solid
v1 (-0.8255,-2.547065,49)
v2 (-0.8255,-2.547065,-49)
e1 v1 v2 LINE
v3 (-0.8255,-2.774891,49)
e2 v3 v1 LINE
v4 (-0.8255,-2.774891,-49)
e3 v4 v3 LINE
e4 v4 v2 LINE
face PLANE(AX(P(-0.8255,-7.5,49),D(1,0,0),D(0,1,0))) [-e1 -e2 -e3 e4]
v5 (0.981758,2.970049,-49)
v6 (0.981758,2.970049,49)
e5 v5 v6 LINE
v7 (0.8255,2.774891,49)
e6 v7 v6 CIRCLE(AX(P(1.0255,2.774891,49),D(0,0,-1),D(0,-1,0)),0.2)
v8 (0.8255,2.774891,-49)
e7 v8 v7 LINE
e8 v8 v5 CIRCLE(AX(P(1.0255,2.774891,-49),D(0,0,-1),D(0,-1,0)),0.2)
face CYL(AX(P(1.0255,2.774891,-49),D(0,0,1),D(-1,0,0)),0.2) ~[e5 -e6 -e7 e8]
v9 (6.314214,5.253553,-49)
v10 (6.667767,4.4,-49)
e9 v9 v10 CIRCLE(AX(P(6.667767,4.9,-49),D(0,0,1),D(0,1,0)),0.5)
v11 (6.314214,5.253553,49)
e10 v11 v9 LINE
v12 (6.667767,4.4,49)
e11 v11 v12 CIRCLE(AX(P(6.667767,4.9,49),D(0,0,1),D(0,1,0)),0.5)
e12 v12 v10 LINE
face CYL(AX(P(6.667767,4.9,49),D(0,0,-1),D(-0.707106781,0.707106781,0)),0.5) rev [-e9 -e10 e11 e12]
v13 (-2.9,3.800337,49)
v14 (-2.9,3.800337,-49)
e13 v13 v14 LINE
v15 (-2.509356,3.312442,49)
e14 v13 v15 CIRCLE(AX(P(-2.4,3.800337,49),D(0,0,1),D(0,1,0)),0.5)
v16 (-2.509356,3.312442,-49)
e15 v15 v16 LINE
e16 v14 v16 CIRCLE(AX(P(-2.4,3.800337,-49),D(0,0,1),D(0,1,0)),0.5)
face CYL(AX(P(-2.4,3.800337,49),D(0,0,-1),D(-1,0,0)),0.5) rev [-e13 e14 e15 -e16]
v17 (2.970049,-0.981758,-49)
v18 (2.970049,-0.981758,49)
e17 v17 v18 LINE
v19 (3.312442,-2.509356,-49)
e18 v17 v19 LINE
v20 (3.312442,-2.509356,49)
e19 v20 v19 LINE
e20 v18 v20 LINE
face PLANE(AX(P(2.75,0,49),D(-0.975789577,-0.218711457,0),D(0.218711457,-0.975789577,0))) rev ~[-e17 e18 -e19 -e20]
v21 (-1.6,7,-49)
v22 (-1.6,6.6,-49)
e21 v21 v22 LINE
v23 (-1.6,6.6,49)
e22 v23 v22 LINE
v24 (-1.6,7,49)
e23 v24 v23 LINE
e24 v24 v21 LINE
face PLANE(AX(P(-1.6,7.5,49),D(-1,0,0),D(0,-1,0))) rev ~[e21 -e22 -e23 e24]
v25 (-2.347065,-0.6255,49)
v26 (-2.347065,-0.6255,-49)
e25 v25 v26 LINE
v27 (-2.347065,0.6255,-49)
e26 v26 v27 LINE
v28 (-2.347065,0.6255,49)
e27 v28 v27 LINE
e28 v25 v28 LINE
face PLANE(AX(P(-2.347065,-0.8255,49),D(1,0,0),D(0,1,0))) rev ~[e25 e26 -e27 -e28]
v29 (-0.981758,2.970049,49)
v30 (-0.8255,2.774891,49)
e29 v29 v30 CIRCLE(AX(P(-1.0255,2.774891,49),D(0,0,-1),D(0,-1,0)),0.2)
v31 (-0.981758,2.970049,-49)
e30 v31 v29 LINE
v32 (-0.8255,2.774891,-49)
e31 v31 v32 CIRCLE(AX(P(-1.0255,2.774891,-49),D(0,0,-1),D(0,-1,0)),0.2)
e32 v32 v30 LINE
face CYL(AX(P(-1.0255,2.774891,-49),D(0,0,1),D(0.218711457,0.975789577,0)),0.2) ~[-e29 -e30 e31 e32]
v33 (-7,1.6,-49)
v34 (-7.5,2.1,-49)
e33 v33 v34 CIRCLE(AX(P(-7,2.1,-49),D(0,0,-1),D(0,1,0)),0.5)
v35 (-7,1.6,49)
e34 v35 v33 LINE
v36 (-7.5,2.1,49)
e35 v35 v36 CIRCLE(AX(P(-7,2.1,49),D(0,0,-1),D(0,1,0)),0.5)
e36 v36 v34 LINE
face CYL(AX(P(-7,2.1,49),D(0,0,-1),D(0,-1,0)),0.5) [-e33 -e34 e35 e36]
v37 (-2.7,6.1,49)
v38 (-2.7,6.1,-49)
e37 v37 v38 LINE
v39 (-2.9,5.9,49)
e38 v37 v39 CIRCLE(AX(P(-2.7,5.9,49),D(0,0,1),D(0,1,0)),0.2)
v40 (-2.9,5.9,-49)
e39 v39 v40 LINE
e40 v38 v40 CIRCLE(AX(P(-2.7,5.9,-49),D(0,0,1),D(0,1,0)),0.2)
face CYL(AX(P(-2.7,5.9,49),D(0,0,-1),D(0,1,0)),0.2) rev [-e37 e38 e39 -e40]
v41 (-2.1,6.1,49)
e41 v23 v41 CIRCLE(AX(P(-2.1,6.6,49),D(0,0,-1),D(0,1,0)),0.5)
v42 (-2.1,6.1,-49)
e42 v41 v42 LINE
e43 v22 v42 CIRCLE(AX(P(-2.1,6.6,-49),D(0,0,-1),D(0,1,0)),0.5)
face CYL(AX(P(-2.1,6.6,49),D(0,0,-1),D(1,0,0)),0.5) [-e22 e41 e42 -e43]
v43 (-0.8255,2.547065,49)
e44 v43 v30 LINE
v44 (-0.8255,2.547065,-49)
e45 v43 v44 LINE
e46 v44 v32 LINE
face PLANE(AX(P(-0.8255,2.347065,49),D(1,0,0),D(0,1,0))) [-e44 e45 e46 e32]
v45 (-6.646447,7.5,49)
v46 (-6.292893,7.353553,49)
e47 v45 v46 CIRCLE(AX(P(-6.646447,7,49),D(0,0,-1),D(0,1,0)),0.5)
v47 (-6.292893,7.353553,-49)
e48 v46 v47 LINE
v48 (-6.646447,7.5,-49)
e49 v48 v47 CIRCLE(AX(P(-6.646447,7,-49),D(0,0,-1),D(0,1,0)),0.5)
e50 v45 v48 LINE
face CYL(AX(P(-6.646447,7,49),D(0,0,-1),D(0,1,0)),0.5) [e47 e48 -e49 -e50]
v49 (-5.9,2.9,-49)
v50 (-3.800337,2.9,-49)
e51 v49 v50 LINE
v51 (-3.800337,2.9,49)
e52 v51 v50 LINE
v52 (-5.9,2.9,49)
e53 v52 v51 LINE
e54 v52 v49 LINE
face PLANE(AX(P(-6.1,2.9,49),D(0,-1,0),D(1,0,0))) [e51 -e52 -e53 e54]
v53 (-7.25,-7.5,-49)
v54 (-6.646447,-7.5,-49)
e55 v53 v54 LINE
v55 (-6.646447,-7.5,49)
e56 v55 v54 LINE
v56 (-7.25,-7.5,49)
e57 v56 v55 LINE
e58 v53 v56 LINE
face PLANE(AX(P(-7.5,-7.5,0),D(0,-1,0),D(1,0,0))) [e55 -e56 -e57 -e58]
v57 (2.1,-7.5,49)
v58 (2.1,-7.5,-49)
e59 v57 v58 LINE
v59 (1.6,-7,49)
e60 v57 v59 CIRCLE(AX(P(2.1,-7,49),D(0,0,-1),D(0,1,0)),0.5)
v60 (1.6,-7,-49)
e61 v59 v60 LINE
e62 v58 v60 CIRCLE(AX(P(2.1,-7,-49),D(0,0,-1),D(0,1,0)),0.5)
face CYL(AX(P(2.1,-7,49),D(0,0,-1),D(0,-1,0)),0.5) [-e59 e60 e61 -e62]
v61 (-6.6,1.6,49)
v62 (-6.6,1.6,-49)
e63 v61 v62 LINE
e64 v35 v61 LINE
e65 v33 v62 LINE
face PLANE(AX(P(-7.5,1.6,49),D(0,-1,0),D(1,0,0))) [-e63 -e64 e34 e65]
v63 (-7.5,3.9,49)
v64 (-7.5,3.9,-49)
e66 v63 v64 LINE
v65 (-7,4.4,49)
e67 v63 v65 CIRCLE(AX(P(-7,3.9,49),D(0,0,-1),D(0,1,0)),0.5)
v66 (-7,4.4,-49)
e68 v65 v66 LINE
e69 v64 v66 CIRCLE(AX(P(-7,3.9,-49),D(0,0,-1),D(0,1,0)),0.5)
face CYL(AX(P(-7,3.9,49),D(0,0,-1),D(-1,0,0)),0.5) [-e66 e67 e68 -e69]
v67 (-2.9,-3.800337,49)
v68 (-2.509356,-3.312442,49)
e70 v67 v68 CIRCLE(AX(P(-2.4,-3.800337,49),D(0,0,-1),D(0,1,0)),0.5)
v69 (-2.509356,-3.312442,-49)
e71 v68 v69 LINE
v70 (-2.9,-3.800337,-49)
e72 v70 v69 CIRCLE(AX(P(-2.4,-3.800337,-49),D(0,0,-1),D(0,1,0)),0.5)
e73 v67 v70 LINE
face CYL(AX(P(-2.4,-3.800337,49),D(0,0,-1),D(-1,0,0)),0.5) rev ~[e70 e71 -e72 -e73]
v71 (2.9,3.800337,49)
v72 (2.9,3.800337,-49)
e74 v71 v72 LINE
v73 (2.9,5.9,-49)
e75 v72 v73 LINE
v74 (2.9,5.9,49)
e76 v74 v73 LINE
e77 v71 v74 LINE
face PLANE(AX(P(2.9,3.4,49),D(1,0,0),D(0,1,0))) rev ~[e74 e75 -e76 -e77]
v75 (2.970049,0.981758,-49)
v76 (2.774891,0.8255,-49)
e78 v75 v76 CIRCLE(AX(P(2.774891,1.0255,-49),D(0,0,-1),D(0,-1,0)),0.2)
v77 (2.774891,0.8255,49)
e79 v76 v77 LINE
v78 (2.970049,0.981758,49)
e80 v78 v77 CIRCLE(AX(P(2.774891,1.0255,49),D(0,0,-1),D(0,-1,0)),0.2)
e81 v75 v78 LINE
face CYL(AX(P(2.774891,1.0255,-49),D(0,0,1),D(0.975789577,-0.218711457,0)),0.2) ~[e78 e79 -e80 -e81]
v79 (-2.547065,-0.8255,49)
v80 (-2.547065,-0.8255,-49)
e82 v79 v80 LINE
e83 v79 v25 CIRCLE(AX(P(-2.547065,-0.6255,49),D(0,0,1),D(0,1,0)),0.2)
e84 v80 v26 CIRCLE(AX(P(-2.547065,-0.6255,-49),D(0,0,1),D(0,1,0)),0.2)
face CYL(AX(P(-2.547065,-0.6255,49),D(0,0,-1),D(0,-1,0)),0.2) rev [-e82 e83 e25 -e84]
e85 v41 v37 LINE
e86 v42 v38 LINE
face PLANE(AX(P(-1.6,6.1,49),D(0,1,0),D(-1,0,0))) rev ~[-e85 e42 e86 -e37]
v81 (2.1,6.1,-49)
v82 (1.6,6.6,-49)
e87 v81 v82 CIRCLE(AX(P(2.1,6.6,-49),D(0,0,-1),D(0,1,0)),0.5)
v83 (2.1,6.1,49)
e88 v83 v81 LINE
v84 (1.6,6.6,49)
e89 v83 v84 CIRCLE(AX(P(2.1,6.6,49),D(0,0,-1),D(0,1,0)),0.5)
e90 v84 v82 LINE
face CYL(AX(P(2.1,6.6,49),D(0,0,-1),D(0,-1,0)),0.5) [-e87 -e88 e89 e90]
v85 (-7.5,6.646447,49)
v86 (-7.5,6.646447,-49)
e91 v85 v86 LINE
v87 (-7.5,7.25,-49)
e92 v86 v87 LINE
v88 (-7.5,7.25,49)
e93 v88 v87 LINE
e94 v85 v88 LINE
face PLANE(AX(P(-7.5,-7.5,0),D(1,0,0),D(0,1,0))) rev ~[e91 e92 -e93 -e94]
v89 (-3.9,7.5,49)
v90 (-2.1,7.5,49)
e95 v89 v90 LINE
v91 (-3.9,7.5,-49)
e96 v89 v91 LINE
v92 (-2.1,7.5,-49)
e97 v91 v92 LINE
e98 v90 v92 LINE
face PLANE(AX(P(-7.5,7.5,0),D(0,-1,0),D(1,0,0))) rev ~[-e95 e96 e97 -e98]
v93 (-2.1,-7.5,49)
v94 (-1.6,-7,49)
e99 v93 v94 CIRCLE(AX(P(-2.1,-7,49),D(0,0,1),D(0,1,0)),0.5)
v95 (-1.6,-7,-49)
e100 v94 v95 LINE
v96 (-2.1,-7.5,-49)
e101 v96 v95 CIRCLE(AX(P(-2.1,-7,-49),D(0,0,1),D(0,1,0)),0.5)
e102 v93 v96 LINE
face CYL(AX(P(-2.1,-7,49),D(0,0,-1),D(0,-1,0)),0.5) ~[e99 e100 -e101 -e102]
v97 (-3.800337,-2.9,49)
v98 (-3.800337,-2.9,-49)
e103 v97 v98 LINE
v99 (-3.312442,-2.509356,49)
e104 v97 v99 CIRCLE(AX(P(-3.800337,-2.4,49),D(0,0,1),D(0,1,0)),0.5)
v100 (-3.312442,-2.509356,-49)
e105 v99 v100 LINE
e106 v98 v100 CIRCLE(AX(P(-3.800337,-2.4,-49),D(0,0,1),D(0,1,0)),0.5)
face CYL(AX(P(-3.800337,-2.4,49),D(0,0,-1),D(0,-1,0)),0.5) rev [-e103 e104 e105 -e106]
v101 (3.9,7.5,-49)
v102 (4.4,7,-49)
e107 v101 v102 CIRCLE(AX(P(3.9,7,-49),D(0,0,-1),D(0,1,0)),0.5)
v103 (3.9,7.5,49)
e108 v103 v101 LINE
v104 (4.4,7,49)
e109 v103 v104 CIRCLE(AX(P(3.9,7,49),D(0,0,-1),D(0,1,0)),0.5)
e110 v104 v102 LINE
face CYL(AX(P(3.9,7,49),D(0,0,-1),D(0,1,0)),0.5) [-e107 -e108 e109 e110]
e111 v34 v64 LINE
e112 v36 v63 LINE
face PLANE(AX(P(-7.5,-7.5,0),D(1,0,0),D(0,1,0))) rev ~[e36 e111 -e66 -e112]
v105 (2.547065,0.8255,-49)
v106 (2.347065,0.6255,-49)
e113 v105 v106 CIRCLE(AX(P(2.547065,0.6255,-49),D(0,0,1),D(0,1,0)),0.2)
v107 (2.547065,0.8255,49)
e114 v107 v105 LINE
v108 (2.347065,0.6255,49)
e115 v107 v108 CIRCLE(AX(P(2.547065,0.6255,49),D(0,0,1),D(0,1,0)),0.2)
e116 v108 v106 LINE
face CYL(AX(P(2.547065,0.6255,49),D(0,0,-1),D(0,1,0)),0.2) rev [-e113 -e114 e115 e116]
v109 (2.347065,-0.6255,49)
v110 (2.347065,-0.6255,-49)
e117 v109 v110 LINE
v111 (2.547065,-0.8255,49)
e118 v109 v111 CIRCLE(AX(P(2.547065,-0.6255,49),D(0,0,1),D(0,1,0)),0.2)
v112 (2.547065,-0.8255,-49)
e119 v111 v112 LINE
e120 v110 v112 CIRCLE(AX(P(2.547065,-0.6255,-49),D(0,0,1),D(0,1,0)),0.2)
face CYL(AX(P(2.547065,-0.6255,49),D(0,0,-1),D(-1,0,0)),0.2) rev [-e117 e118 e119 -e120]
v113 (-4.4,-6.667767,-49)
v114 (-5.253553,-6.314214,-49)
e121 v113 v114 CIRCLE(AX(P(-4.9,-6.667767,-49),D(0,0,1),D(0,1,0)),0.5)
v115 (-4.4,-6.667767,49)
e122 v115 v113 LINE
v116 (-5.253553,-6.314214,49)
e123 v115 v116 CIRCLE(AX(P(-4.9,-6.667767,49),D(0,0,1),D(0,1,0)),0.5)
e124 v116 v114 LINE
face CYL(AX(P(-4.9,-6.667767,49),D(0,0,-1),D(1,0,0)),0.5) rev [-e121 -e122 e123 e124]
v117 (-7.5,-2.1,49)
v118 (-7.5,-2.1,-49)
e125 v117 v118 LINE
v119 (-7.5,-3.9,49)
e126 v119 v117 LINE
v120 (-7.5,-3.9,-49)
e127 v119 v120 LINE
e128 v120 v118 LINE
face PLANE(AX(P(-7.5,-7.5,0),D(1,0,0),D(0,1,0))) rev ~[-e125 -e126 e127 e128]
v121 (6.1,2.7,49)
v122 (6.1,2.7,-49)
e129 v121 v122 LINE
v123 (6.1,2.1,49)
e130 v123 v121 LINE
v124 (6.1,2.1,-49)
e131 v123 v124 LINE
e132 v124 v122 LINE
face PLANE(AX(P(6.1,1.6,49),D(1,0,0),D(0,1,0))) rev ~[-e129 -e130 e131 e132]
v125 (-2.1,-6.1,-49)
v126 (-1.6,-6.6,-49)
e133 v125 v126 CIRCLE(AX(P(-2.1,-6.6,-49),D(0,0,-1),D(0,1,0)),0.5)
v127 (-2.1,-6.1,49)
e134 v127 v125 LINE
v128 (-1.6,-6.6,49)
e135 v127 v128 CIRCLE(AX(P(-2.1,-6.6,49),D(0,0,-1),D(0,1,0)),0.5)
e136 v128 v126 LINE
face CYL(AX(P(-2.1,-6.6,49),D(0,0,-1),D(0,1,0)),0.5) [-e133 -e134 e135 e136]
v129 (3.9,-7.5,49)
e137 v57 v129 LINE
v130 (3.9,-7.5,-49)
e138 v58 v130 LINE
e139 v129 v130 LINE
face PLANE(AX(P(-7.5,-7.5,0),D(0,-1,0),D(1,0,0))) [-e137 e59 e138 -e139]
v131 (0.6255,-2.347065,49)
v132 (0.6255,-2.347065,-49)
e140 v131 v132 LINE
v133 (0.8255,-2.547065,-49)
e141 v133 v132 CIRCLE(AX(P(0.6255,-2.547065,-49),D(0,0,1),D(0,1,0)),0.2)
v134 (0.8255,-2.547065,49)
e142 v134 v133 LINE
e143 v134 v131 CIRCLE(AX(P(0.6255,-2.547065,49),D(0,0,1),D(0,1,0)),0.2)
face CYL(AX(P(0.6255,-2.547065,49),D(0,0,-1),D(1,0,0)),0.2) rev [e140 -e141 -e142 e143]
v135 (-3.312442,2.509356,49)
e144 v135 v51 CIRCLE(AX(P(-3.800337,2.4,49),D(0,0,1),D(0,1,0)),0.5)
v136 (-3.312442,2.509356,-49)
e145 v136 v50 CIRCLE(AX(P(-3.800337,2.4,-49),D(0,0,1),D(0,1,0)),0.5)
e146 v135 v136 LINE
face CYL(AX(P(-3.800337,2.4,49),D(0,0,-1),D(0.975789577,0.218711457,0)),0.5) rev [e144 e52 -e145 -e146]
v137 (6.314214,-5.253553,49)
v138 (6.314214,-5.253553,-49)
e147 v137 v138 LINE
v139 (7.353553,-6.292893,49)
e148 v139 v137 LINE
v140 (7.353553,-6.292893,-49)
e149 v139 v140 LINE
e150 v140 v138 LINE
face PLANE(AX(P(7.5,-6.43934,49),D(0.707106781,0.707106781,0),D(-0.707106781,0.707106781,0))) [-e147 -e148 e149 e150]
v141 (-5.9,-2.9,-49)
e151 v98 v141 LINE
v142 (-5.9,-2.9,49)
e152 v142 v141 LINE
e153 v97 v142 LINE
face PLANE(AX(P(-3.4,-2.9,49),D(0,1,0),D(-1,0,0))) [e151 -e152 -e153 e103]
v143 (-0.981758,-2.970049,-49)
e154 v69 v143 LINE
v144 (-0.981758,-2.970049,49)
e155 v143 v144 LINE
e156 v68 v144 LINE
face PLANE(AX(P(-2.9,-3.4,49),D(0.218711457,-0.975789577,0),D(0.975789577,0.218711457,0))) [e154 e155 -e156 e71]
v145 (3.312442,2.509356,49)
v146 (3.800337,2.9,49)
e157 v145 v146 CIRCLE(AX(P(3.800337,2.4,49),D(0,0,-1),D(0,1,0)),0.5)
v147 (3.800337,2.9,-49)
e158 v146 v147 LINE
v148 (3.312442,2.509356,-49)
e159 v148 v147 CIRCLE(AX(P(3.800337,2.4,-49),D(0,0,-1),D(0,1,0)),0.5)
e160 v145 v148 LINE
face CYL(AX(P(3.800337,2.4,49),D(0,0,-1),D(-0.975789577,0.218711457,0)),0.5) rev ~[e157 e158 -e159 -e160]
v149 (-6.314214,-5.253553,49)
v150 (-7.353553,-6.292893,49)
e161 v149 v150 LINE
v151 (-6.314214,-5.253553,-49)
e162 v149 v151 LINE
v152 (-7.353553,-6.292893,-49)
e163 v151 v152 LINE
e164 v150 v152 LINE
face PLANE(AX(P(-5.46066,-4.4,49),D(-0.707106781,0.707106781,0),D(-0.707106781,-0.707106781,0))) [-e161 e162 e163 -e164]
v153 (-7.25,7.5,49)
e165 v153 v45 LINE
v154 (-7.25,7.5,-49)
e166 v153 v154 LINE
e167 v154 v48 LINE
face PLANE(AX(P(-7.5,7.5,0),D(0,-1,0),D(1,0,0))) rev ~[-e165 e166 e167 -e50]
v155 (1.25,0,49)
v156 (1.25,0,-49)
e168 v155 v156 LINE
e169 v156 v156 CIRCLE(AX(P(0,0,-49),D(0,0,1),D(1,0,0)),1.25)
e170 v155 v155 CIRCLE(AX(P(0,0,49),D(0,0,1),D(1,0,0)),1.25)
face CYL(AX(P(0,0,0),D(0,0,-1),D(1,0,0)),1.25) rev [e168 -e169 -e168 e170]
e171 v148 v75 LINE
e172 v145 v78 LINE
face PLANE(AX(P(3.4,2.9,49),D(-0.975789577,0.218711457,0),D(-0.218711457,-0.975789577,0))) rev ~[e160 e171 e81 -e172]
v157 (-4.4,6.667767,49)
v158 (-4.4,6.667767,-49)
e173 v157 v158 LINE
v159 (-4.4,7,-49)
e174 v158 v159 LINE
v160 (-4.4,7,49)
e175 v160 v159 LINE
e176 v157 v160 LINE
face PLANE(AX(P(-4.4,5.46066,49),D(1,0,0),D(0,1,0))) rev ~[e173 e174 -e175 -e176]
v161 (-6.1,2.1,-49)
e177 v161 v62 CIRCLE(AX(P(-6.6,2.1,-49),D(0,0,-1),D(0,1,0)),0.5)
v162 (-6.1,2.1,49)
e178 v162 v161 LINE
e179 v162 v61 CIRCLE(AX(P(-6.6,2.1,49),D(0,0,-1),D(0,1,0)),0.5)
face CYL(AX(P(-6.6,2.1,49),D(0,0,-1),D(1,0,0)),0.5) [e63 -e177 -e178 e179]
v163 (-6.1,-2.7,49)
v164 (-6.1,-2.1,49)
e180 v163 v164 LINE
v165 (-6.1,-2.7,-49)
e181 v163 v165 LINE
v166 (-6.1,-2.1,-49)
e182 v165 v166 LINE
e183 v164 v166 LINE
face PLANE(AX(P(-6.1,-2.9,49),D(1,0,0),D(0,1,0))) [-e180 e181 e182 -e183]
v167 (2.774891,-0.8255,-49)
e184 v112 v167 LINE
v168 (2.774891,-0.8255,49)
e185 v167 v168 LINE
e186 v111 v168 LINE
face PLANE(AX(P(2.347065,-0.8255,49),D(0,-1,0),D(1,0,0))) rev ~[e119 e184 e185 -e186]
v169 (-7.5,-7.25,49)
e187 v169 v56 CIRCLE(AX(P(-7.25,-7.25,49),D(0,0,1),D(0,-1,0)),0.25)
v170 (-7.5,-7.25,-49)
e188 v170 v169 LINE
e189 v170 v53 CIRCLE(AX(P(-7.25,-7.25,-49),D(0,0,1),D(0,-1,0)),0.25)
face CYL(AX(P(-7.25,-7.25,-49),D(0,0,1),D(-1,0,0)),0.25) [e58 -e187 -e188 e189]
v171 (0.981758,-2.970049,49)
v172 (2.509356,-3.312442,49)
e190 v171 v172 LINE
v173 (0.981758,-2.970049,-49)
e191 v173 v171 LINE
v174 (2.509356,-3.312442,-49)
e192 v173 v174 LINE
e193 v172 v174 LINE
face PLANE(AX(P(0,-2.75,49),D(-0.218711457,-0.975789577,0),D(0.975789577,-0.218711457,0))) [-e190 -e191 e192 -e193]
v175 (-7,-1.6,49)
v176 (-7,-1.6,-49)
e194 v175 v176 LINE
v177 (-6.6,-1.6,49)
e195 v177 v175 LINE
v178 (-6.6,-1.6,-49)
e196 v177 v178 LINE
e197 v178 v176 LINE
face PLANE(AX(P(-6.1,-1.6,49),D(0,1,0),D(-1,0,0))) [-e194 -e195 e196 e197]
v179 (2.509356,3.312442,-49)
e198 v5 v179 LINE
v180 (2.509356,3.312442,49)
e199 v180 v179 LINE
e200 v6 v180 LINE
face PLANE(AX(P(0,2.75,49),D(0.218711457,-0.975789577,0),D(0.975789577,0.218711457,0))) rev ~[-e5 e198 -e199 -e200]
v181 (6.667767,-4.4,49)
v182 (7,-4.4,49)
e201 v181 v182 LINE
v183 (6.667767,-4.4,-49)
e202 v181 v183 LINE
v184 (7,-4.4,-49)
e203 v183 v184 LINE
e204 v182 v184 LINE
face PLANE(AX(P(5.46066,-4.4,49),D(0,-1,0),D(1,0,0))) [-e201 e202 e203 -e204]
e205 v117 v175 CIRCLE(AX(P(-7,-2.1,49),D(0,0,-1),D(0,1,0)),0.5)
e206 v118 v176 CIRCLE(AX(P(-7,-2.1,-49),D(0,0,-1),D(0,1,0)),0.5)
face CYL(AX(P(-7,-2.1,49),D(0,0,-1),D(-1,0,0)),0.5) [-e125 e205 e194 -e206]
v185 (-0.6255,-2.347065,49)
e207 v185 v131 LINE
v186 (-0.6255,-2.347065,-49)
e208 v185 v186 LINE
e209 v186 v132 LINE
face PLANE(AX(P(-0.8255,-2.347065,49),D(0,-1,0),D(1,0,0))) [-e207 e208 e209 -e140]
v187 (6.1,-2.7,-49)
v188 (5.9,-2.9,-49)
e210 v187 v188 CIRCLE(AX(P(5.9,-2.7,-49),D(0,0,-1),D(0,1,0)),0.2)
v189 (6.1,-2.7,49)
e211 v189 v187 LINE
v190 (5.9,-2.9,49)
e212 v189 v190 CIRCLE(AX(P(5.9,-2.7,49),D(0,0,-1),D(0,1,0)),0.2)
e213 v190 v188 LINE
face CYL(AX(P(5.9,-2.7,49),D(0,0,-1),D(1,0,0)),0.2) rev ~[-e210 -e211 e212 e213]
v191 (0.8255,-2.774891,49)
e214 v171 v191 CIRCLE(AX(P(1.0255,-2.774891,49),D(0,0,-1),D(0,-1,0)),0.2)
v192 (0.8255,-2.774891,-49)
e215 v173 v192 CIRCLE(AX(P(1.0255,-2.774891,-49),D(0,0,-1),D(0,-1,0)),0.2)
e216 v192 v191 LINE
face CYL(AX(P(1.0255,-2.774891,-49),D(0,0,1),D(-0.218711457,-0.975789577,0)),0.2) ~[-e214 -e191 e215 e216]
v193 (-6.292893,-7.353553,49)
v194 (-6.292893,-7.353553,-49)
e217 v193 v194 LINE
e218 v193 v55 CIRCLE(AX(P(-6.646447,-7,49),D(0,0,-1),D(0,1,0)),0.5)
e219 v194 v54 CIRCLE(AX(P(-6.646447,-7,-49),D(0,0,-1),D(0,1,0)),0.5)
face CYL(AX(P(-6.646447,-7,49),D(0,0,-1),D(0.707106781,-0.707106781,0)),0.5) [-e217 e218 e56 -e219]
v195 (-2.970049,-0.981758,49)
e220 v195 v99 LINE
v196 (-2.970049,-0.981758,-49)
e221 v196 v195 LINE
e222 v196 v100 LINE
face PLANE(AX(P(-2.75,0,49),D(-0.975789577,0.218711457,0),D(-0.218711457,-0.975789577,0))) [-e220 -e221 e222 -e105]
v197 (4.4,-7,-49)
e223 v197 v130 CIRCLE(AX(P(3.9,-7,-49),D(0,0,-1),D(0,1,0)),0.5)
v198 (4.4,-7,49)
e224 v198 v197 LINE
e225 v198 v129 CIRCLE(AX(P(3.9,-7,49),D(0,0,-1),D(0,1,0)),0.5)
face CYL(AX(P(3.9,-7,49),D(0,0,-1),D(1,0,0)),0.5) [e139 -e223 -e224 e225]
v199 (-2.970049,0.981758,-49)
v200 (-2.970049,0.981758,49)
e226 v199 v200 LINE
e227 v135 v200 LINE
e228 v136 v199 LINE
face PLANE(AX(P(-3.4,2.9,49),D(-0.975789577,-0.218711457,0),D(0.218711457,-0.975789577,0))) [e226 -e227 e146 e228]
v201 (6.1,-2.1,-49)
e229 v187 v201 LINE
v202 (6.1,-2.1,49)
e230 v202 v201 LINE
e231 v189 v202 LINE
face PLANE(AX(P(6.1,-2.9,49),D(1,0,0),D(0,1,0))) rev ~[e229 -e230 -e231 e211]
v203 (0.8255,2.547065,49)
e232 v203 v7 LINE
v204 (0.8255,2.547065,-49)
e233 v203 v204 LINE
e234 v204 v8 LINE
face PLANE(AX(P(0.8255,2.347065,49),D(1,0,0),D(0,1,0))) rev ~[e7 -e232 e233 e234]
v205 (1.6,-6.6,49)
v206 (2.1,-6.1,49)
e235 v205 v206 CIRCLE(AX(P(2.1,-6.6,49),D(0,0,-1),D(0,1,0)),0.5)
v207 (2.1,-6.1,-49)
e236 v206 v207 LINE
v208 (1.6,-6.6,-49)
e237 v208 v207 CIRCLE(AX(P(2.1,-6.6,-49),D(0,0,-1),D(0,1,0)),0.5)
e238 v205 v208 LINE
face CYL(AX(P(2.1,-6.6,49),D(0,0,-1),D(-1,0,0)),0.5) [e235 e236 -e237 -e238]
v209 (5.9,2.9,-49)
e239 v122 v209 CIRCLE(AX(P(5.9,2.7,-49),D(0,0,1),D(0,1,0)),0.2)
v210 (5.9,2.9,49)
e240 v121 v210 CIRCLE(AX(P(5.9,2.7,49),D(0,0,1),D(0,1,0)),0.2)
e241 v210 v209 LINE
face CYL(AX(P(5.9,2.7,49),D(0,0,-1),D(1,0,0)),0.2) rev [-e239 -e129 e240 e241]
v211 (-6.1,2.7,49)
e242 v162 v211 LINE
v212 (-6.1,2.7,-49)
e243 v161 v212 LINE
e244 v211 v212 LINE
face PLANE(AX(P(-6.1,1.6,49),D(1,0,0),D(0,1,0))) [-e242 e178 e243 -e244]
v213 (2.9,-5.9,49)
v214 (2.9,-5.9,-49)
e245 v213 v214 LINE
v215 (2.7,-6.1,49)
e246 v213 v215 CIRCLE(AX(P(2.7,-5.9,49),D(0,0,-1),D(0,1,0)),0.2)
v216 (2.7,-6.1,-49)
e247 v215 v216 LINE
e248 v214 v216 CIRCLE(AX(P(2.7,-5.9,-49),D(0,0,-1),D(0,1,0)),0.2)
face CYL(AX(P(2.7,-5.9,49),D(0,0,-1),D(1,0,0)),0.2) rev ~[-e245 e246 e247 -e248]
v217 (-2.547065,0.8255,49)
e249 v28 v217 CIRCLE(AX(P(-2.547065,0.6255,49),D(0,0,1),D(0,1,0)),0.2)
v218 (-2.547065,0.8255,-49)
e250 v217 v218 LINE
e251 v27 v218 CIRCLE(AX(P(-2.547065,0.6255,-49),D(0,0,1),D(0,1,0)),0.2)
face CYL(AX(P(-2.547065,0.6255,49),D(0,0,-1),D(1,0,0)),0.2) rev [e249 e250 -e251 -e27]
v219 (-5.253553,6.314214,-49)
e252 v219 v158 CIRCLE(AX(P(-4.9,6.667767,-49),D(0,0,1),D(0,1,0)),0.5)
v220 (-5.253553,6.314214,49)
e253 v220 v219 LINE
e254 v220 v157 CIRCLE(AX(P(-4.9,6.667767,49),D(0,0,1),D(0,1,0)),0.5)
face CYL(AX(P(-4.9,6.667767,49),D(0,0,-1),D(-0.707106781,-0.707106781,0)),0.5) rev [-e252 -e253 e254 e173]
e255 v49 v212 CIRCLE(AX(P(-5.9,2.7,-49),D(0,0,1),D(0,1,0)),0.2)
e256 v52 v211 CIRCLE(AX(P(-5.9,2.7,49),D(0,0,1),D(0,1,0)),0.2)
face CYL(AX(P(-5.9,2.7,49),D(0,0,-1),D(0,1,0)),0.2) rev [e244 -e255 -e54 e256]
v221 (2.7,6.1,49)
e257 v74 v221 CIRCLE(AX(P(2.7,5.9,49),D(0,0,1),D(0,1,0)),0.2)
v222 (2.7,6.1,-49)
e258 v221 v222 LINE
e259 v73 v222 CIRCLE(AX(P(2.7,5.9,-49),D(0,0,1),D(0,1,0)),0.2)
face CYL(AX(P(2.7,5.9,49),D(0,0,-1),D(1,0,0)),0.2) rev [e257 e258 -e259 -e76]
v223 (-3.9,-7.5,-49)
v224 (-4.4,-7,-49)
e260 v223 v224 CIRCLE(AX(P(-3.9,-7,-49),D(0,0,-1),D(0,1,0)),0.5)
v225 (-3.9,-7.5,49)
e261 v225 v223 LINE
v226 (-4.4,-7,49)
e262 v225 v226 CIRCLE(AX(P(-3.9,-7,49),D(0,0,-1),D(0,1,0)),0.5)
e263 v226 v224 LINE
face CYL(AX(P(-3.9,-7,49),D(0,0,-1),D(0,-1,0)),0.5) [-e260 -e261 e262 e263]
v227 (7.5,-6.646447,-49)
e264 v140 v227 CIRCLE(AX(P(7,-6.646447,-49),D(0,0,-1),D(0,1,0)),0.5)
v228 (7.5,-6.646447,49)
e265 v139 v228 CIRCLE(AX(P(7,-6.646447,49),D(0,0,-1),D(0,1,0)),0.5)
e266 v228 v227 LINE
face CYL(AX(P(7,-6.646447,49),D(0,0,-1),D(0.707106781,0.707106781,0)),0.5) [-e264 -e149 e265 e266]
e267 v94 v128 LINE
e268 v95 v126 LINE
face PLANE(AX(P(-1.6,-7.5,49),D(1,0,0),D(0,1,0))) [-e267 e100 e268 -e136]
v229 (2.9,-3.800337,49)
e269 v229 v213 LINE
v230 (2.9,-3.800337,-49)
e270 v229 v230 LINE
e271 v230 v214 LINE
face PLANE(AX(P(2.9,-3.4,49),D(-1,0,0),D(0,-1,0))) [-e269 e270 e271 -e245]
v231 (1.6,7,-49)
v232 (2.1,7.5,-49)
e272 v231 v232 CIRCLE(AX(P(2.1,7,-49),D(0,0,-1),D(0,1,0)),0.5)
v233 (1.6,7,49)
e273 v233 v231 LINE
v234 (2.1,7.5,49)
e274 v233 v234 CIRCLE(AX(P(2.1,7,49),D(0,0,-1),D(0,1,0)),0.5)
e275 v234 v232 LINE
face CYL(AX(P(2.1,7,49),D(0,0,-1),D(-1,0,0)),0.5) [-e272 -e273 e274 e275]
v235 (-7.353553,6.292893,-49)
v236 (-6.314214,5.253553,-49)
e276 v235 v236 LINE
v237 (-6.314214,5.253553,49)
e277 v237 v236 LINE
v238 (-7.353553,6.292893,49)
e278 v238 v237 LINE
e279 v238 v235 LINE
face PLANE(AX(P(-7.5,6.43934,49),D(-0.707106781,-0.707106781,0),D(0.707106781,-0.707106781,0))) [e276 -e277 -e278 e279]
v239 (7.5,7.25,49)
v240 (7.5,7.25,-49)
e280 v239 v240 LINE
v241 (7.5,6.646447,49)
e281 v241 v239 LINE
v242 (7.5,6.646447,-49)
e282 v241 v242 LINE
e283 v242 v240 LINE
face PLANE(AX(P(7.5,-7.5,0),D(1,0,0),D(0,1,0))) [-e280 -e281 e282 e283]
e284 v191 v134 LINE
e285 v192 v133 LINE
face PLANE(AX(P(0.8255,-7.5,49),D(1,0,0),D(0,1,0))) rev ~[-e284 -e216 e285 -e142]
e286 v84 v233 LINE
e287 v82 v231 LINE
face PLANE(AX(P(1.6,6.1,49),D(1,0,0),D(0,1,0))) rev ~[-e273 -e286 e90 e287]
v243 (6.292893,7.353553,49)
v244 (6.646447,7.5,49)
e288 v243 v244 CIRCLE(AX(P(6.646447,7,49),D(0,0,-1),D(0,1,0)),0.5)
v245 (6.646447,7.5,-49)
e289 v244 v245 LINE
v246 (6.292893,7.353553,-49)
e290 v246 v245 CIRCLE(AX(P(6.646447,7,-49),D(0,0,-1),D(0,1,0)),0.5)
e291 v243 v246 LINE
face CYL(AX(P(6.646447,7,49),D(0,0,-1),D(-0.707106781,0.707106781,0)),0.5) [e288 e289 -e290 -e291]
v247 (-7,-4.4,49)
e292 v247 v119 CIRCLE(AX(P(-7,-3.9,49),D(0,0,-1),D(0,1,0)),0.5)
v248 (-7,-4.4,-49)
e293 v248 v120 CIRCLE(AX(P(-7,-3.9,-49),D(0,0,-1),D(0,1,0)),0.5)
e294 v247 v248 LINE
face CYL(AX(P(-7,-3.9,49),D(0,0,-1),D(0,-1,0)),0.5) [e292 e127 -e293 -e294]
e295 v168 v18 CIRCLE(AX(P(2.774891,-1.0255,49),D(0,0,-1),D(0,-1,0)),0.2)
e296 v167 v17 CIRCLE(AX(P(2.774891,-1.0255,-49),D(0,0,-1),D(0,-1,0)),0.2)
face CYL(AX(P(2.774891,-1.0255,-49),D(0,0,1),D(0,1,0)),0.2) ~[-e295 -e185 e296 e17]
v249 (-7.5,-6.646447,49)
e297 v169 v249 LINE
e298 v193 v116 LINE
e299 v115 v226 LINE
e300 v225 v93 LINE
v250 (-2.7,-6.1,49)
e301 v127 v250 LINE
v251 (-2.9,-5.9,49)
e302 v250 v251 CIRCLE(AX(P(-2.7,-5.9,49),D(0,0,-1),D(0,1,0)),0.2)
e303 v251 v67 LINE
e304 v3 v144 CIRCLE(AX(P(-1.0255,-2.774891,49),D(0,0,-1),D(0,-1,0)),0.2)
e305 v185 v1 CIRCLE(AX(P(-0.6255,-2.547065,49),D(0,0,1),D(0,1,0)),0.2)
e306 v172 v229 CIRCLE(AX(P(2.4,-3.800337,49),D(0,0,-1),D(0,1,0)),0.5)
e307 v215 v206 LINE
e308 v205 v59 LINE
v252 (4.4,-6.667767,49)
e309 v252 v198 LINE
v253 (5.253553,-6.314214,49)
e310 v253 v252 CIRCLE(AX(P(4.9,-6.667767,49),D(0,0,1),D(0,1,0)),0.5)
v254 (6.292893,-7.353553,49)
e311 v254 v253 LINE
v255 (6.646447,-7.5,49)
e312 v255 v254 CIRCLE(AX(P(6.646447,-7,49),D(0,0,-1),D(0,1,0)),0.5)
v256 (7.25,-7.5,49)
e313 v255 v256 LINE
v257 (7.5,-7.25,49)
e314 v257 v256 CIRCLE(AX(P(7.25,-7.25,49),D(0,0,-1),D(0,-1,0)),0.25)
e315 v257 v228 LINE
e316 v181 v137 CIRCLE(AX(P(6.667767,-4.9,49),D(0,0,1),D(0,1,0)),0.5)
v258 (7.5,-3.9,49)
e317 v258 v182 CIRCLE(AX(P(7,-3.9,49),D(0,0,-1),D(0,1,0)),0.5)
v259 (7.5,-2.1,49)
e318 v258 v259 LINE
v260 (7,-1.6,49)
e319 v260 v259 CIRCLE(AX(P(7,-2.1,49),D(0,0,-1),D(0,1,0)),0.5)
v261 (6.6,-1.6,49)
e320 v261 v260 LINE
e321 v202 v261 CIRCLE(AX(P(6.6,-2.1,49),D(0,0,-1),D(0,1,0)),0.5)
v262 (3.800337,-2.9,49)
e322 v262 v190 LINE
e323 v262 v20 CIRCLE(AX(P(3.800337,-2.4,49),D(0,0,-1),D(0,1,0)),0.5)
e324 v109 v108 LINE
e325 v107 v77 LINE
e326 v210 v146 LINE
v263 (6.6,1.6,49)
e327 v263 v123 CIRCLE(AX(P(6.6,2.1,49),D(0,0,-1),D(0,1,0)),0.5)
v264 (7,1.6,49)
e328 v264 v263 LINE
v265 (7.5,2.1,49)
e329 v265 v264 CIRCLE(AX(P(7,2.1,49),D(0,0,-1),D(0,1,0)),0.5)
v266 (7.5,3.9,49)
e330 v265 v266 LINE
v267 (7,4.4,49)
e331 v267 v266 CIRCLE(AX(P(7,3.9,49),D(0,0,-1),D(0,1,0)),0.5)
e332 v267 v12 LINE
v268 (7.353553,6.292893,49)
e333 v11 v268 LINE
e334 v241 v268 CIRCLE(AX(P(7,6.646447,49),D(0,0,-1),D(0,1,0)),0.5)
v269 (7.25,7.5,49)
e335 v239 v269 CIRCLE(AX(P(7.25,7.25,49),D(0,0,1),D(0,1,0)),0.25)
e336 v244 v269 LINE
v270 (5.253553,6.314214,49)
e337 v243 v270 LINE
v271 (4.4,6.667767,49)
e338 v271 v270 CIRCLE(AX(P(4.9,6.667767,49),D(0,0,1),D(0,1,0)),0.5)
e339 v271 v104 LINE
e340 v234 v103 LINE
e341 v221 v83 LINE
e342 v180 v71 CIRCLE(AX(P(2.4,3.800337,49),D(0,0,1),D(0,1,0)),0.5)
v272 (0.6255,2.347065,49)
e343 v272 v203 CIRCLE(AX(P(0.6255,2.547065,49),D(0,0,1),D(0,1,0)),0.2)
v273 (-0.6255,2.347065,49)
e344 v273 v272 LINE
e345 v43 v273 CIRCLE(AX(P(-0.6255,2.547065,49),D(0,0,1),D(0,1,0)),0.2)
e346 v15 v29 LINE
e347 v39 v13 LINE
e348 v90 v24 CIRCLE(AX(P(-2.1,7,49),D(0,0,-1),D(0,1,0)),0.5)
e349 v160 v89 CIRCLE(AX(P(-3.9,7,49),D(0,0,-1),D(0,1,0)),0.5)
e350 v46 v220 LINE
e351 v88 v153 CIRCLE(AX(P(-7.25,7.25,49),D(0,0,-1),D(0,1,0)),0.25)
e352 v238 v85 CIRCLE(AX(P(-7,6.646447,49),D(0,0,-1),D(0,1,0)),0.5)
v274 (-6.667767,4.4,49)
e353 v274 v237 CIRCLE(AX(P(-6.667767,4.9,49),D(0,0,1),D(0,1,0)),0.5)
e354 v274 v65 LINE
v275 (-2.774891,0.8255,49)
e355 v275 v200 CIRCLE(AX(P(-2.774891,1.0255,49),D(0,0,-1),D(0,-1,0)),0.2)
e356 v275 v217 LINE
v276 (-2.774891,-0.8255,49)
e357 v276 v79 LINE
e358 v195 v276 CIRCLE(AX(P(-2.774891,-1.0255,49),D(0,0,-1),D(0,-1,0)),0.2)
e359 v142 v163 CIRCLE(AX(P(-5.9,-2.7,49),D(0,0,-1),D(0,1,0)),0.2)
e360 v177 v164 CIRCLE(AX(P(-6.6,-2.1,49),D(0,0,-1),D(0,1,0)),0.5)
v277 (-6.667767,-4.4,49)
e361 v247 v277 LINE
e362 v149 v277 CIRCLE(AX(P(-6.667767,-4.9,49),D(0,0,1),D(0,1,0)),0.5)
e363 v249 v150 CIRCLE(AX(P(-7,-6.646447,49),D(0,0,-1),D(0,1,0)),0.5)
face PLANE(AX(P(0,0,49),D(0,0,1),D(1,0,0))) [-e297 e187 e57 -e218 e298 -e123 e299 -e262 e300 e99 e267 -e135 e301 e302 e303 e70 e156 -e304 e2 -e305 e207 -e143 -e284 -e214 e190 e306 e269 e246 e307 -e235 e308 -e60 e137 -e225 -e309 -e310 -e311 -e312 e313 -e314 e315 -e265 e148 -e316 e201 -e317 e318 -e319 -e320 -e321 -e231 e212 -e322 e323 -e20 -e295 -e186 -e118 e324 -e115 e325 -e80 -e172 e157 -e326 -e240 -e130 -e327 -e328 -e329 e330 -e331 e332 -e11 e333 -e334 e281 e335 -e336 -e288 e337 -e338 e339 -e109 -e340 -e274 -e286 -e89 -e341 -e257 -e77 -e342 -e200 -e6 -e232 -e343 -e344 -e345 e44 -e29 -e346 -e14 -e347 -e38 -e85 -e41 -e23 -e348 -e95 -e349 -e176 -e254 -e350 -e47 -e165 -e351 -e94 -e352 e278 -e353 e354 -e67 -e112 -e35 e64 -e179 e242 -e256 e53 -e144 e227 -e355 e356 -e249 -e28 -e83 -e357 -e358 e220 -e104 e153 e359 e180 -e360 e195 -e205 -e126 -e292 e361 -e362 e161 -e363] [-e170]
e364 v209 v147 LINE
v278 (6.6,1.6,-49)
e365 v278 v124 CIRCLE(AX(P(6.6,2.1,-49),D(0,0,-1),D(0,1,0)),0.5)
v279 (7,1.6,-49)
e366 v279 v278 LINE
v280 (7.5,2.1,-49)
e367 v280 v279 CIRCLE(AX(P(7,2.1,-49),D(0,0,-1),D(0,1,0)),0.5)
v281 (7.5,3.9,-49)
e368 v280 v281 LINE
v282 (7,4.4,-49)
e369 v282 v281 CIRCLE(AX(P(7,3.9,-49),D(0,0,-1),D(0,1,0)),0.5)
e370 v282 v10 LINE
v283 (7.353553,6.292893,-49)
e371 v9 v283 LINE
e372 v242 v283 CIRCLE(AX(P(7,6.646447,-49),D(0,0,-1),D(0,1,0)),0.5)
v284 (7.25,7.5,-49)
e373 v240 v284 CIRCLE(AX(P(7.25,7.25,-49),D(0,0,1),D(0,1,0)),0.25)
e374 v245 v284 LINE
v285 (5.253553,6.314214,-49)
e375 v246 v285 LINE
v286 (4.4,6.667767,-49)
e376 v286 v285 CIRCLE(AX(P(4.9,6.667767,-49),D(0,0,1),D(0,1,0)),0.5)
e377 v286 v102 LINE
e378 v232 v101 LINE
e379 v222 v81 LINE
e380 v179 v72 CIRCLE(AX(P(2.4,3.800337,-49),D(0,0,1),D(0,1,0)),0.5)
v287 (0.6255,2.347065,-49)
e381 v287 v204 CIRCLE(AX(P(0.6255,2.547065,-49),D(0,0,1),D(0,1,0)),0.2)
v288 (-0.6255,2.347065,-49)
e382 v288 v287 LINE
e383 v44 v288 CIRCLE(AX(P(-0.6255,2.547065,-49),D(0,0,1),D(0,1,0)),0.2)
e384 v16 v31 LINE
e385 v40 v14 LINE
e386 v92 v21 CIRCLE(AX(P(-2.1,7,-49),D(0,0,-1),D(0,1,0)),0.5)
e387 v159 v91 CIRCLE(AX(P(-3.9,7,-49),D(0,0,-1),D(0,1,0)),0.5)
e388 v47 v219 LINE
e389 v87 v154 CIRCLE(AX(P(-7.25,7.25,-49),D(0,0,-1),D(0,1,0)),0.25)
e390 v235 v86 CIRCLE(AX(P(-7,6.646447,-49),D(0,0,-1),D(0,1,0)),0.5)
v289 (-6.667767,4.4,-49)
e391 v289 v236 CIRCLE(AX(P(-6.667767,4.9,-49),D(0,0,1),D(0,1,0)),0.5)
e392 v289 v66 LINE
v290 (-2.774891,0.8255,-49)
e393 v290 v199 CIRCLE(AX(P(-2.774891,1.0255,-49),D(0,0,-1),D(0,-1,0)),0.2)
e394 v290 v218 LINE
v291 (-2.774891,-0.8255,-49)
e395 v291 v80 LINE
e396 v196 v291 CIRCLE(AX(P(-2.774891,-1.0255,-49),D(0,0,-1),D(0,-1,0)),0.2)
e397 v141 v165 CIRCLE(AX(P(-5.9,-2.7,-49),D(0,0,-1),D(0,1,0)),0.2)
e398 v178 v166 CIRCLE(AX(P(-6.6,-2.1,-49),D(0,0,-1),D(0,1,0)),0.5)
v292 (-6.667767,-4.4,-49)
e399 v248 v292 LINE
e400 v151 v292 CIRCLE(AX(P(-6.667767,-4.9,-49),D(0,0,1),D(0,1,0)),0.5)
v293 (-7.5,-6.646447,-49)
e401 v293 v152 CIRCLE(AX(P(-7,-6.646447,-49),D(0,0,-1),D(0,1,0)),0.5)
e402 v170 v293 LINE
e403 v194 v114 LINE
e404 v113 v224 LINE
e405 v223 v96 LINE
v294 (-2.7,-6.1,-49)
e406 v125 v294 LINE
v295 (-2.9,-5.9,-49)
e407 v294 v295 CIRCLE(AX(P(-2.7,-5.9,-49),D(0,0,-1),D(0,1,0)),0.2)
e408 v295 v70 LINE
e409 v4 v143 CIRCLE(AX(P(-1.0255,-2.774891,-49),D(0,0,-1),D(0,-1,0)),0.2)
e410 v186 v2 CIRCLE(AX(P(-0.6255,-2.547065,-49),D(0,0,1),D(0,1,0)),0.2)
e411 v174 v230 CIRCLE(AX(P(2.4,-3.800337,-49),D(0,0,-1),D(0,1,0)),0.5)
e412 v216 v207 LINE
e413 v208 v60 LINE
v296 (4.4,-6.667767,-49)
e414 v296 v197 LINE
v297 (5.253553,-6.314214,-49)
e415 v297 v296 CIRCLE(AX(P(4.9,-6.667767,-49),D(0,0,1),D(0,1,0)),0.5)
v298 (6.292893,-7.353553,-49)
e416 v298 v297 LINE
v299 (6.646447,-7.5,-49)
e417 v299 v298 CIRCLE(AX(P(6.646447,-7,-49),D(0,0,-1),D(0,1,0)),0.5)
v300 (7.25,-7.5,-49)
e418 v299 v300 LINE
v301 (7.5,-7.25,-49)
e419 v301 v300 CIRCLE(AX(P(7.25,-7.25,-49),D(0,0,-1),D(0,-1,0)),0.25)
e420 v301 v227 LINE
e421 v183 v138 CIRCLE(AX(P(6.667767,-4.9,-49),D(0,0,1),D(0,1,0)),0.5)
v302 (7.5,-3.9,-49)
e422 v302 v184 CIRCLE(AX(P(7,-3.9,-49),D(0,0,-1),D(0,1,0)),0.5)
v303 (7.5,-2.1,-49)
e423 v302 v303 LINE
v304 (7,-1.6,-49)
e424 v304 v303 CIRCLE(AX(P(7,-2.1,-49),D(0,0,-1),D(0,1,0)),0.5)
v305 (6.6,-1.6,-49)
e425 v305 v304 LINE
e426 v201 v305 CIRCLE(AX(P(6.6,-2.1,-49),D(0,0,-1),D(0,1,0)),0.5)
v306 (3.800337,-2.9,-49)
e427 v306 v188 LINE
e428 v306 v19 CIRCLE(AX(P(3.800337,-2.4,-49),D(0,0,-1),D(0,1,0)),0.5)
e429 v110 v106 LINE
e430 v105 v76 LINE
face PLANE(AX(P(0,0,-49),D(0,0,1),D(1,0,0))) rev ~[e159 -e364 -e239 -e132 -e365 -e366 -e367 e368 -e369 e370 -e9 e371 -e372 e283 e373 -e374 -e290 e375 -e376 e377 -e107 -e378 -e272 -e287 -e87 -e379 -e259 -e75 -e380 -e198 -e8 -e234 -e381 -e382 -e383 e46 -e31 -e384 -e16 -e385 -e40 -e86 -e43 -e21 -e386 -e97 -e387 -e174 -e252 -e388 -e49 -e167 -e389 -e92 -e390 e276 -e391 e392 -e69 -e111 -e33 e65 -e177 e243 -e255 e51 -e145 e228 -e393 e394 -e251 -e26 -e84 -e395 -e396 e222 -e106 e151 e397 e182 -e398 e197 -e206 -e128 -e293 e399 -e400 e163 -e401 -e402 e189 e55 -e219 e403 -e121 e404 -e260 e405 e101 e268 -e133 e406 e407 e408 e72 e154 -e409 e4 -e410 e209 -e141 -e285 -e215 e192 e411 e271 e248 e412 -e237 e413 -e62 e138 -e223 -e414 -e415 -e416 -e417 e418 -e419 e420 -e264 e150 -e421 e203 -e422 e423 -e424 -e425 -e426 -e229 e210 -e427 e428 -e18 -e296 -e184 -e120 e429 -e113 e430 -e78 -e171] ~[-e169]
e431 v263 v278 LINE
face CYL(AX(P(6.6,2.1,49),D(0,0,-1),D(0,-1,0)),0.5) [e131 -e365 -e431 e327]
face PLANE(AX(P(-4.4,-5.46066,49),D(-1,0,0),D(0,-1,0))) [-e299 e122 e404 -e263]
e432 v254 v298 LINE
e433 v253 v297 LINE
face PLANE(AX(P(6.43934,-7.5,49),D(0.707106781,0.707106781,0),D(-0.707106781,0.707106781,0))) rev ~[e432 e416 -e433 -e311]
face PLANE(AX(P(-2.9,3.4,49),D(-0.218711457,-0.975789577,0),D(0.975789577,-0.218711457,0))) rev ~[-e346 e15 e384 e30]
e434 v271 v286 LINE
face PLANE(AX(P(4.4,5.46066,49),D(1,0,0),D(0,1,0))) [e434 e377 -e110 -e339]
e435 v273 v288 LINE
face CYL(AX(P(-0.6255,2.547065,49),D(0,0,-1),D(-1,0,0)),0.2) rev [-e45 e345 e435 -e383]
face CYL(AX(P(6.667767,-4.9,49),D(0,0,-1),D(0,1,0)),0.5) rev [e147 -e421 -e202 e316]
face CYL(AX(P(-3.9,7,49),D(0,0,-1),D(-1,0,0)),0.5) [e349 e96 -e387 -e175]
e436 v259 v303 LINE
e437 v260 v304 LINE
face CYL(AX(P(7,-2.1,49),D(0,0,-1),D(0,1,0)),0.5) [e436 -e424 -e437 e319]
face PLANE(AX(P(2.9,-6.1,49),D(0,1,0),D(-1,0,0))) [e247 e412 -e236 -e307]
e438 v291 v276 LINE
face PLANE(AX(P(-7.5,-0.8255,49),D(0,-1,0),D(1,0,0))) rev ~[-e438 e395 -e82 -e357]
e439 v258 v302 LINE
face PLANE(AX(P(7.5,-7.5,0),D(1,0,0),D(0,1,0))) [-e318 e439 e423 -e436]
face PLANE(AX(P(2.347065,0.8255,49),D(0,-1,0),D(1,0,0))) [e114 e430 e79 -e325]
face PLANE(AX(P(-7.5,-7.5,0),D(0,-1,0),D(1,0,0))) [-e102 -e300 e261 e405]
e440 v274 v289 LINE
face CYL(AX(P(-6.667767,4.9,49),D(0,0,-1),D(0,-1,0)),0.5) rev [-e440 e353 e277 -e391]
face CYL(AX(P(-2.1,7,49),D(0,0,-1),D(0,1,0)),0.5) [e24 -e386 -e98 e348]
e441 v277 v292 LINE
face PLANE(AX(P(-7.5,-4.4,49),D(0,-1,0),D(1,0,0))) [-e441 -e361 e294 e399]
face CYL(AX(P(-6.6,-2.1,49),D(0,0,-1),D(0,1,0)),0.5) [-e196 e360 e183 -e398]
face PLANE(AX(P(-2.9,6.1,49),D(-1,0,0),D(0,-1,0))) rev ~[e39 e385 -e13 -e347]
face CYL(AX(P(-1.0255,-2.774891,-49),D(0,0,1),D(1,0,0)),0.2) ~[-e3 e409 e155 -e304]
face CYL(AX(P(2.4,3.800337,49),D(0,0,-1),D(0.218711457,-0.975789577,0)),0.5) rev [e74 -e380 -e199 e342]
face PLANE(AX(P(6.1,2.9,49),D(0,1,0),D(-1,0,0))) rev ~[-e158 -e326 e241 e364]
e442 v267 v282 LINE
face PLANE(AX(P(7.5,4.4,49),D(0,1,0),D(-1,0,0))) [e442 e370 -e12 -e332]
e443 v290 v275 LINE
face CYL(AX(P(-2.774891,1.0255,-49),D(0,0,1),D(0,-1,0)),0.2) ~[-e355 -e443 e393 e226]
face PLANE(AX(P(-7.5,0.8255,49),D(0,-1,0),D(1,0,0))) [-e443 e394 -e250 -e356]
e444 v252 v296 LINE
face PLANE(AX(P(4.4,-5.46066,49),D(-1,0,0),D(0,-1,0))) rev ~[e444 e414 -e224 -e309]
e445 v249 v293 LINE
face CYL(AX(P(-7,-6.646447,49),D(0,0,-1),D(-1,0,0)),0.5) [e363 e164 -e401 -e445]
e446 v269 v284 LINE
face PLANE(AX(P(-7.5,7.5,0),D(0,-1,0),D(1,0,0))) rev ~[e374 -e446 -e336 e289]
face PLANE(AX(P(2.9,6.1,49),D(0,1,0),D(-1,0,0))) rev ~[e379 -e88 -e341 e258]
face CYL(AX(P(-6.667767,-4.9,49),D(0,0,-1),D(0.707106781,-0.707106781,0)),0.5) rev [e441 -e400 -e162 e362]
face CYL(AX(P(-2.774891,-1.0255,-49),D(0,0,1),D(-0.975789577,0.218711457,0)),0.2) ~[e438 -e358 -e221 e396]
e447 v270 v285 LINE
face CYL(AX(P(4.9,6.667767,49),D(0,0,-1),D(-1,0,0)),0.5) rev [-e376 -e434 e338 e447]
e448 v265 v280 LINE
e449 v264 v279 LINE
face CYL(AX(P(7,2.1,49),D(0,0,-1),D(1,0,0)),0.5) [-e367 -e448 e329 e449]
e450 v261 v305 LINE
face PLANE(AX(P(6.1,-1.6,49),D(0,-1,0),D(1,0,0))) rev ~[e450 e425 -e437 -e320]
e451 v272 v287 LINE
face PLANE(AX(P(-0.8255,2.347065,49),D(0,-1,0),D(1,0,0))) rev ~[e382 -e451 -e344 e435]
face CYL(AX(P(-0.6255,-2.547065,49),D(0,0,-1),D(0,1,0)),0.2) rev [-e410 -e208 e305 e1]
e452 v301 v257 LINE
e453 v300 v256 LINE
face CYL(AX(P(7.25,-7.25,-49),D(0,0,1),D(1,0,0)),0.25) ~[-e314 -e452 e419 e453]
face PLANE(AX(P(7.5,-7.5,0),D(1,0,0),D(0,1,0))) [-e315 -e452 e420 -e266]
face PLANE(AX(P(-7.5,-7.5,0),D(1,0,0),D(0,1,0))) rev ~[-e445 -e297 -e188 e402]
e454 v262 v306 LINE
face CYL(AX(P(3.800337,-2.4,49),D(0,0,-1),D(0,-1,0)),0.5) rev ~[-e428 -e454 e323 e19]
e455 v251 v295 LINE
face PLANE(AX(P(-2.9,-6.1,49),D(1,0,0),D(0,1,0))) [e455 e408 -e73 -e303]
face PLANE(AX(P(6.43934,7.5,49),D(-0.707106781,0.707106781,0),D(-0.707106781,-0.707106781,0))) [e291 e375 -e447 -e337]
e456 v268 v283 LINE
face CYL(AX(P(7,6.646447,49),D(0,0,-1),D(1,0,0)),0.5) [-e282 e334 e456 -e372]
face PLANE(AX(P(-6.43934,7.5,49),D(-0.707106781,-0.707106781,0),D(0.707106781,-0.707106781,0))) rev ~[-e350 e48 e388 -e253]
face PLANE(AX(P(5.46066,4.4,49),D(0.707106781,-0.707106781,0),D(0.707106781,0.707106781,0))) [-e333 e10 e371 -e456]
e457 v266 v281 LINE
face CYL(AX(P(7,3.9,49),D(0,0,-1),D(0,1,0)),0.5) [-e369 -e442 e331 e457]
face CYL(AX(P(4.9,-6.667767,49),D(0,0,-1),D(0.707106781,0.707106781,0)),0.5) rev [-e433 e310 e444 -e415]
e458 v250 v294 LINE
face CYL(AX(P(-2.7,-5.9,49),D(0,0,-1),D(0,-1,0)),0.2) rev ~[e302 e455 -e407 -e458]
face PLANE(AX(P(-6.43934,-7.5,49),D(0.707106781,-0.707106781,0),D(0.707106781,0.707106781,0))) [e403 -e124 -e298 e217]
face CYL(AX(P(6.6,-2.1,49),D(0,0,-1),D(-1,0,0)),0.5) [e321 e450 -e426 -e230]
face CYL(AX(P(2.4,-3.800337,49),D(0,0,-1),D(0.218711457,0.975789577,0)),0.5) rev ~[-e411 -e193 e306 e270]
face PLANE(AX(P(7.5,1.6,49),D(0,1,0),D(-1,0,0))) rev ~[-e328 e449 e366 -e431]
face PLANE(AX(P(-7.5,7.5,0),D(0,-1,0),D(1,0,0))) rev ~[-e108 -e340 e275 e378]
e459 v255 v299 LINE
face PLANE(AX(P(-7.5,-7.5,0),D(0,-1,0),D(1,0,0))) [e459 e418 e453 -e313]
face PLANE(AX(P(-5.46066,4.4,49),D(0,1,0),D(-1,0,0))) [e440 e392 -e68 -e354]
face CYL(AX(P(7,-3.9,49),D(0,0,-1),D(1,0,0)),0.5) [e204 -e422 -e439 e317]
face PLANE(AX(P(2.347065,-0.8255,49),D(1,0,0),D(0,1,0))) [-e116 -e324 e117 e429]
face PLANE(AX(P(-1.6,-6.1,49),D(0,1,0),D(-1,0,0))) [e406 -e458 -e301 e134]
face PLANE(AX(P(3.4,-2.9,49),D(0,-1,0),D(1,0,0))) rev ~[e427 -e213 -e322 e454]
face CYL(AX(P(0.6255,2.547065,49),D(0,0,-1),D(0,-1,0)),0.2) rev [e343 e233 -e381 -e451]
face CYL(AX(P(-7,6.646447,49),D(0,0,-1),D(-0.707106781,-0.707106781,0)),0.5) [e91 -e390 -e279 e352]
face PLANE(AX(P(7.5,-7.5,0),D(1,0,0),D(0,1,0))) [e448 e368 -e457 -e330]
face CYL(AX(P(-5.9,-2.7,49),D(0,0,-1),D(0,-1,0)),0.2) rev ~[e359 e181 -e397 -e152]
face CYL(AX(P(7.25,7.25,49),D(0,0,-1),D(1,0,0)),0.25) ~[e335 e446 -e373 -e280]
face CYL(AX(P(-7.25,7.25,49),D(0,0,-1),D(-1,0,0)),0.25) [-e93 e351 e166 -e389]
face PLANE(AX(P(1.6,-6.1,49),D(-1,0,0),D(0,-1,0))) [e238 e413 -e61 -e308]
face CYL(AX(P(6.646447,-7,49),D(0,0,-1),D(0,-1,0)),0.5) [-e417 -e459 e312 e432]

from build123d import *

# Parameters (mm, degrees)
SKETCH1_W           = 15
SKETCH1_H           = 15
SKETCH1_R           = 1.25
BOSS_EXTRUDE1_DEPTH = 49
FILLET1_R           = 0.25
CUT_EXTRUDE1_DEPTH  = 99.572308485
CUT_EXTRUDE3_DEPTH  = 99.572308485
FILLET3_R           = 0.5
FILLET4_R           = 0.5
FILLET5_R           = 3
FILLET6_R           = 0.2
CUT_EXTRUDE4_DEPTH  = 99.572308485
FILLET8_R           = 0.5
SKETCH6_W           = 5.1529354
SKETCH6_H           = 1.651
SKETCH6_W_2         = 1.651
SKETCH6_H_2         = 5.1529354
CUT_EXTRUDE5_DEPTH  = 99.572308485
FILLET10_R          = 0.2


with BuildPart() as part:
    # Sketch1 → Boss-Extrude1 (new, symmetric)
    with BuildSketch(Plane.XY):
        Rectangle(SKETCH1_W, SKETCH1_H)
        Circle(SKETCH1_R, mode=Mode.SUBTRACT)
    extrude(amount=BOSS_EXTRUDE1_DEPTH, both=True)

    # Fillet1
    fillet1_edges = [part.edges().sort_by_distance(p)[0] for p in [
        (7.5, -7.5, 0),
        (-7.5, -7.5, 0),
        (-7.5, 7.5, 0),
        (7.5, 7.5, 0),
    ]]
    fillet(fillet1_edges, radius=FILLET1_R)

    # Sketch2 → Cut-Extrude1 (cut, through all)
    with BuildSketch(Plane.XY.offset(49)):
        Polygon((-7.5, 1.6), (-6.1, 1.6), (-6.1, 2.9), (-3.4, 2.9), (-3.4, -2.9), (-6.1, -2.9), (-6.1, -1.6), (-7.5, -1.6), align=None)
        Polygon((2.9, 6.1), (1.6, 6.1), (1.6, 7.5), (-1.6, 7.5), (-1.6, 6.1), (-2.9, 6.1), (-2.9, 3.4), (2.9, 3.4), align=None)
        Polygon((-1.6, -7.5), (-1.6, -6.1), (-2.9, -6.1), (-2.9, -3.4), (2.9, -3.4), (2.9, -6.1), (1.6, -6.1), (1.6, -7.5), align=None)
        Polygon((6.1, -2.9), (6.1, -1.6), (7.5, -1.6), (7.5, 1.6), (6.1, 1.6), (6.1, 2.9), (3.4, 2.9), (3.4, -2.9), align=None)
    extrude(amount=-CUT_EXTRUDE1_DEPTH, mode=Mode.SUBTRACT)

    # Sketch4 → Cut-Extrude3 (cut, through all)
    with BuildSketch(Plane.XY.offset(49)):
        Polygon((-3.4, 2.9), (-2.75, 0), (-3.4, -2.9), align=None)
        Polygon((-2.9, 3.4), (0, 2.75), (2.9, 3.4), align=None)
        Polygon((3.4, 2.9), (2.75, 0), (3.4, -2.9), align=None)
        Polygon((-2.9, -3.4), (0, -2.75), (2.9, -3.4), align=None)
    extrude(amount=-CUT_EXTRUDE3_DEPTH, mode=Mode.SUBTRACT)

    # Fillet3
    fillet3_edges = [part.edges().sort_by_distance(p)[0] for p in [
        (1.6, -7.5, 0),
        (-1.6, -7.5, 0),
        (-1.6, -6.1, 0),
        (1.6, -6.1, 0),
        (6.1, 1.6, 0),
        (7.5, 1.6, 0),
        (7.5, -1.6, 0),
        (6.1, -1.6, 0),
        (-7.5, -1.6, 0),
        (-7.5, 1.6, 0),
        (-6.1, 1.6, 0),
        (-6.1, -1.6, 0),
        (-1.6, 6.1, 0),
        (-1.6, 7.5, 0),
        (1.6, 7.5, 0),
        (1.6, 6.1, 0),
    ]]
    fillet(fillet3_edges, radius=FILLET3_R)

    # Fillet4
    fillet4_edges = [part.edges().sort_by_distance(p)[0] for p in [
        (-2.9, -3.4, 0),
        (2.9, -3.4, 0),
        (3.4, -2.9, 0),
        (3.4, 2.9, 0),
        (-3.4, 2.9, 0),
        (-3.4, -2.9, 0),
        (2.9, 3.4, 0),
        (-2.9, 3.4, 0),
    ]]
    fillet(fillet4_edges, radius=FILLET4_R)

    # Fillet5
    fillet5_edges = [part.edges().sort_by_distance(p)[0] for p in [
        (-2.75, 0, 0),
        (0, 2.75, 0),
        (2.75, 0, 0),
        (0, -2.75, 0),
    ]]
    fillet(fillet5_edges, radius=FILLET5_R)

    # Fillet6
    fillet6_edges = [part.edges().sort_by_distance(p)[0] for p in [
        (-2.9, -6.1, 0),
        (2.9, -6.1, 0),
        (6.1, -2.9, 0),
        (6.1, 2.9, 0),
        (-6.1, 2.9, 0),
        (-6.1, -2.9, 0),
        (2.9, 6.1, 0),
        (-2.9, 6.1, 0),
    ]]
    fillet(fillet6_edges, radius=FILLET6_R)

    # Sketch5 → Cut-Extrude4 (cut, through all)
    with BuildSketch(Plane.XY.offset(49)):
        Polygon((-7.5, 6.439339828), (-5.460660172, 4.4), (-7.5, 4.4), align=None)
        Polygon((-6.439339828, 7.5), (-4.4, 5.460660172), (-4.4, 7.5), align=None)
        Polygon((4.4, 7.5), (6.439339828, 7.5), (4.4, 5.460660172), align=None)
        Polygon((7.5, 6.439339828), (7.5, 4.4), (5.460660172, 4.4), align=None)
        Polygon((7.5, -6.439339828), (5.460660172, -4.4), (7.5, -4.4), align=None)
        Polygon((6.439339828, -7.5), (4.4, -5.460660172), (4.4, -7.5), align=None)
        Polygon((-4.4, -7.5), (-6.439339828, -7.5), (-4.4, -5.460660172), align=None)
        Polygon((-7.5, -6.439339828), (-7.5, -4.4), (-5.460660172, -4.4), align=None)
    extrude(amount=-CUT_EXTRUDE4_DEPTH, mode=Mode.SUBTRACT)

    # Fillet8
    fillet8_edges = [part.edges().sort_by_distance(p)[0] for p in [
        (-7.5, 4.4, 0),
        (-7.5, 6.439339828, 0),
        (-5.460660172, 4.4, 0),
        (7.5, -4.4, 0),
        (7.5, -6.439339828, 0),
        (5.460660172, -4.4, 0),
        (5.460660172, 4.4, 0),
        (7.5, 6.439339828, 0),
        (7.5, 4.4, 0),
        (-4.4, 7.5, 0),
        (-4.4, 5.460660172, 0),
        (-6.439339828, 7.5, 0),
        (-5.460660172, -4.4, 0),
        (-7.5, -6.439339828, 0),
        (-7.5, -4.4, 0),
        (4.4, 5.460660172, 0),
        (4.4, 7.5, 0),
        (6.439339828, 7.5, 0),
        (6.439339828, -7.5, 0),
        (4.4, -7.5, 0),
        (4.4, -5.460660172, 0),
        (-6.439339828, -7.5, 0),
        (-4.4, -5.460660172, 0),
        (-4.4, -7.5, 0),
    ]]
    fillet(fillet8_edges, radius=FILLET8_R)

    # Sketch6 → Cut-Extrude5 (cut, through all)
    with BuildSketch(Plane.XY.offset(49)):
        with Locations((4.9235323, 0)):
            Rectangle(SKETCH6_W, SKETCH6_H)
        with Locations((0, -4.9235323)):
            Rectangle(SKETCH6_W_2, SKETCH6_H_2)
        with Locations((-4.9235323, 0)):
            Rectangle(SKETCH6_W, SKETCH6_H)
        with Locations((0, 4.9235323)):
            Rectangle(SKETCH6_W_2, SKETCH6_H_2)
    extrude(amount=-CUT_EXTRUDE5_DEPTH, mode=Mode.SUBTRACT)

    # Fillet10
    fillet10_edges = [part.edges().sort_by_distance(p)[0] for p in [
        (0.8255, -2.935025862, 0),
        (-0.8255, -2.935025862, 0),
        (0.8255, -2.3470646, 0),
        (-0.8255, -2.3470646, 0),
        (2.935025862, 0.8255, 0),
        (2.935025862, -0.8255, 0),
        (2.3470646, 0.8255, 0),
        (2.3470646, -0.8255, 0),
        (-2.935025862, -0.8255, 0),
        (-2.935025862, 0.8255, 0),
        (-2.3470646, -0.8255, 0),
        (-2.3470646, 0.8255, 0),
        (-0.8255, 2.935025862, 0),
        (0.8255, 2.935025862, 0),
        (-0.8255, 2.3470646, 0),
        (0.8255, 2.3470646, 0),
    ]]
    fillet(fillet10_edges, radius=FILLET10_R)


solid = part.part
